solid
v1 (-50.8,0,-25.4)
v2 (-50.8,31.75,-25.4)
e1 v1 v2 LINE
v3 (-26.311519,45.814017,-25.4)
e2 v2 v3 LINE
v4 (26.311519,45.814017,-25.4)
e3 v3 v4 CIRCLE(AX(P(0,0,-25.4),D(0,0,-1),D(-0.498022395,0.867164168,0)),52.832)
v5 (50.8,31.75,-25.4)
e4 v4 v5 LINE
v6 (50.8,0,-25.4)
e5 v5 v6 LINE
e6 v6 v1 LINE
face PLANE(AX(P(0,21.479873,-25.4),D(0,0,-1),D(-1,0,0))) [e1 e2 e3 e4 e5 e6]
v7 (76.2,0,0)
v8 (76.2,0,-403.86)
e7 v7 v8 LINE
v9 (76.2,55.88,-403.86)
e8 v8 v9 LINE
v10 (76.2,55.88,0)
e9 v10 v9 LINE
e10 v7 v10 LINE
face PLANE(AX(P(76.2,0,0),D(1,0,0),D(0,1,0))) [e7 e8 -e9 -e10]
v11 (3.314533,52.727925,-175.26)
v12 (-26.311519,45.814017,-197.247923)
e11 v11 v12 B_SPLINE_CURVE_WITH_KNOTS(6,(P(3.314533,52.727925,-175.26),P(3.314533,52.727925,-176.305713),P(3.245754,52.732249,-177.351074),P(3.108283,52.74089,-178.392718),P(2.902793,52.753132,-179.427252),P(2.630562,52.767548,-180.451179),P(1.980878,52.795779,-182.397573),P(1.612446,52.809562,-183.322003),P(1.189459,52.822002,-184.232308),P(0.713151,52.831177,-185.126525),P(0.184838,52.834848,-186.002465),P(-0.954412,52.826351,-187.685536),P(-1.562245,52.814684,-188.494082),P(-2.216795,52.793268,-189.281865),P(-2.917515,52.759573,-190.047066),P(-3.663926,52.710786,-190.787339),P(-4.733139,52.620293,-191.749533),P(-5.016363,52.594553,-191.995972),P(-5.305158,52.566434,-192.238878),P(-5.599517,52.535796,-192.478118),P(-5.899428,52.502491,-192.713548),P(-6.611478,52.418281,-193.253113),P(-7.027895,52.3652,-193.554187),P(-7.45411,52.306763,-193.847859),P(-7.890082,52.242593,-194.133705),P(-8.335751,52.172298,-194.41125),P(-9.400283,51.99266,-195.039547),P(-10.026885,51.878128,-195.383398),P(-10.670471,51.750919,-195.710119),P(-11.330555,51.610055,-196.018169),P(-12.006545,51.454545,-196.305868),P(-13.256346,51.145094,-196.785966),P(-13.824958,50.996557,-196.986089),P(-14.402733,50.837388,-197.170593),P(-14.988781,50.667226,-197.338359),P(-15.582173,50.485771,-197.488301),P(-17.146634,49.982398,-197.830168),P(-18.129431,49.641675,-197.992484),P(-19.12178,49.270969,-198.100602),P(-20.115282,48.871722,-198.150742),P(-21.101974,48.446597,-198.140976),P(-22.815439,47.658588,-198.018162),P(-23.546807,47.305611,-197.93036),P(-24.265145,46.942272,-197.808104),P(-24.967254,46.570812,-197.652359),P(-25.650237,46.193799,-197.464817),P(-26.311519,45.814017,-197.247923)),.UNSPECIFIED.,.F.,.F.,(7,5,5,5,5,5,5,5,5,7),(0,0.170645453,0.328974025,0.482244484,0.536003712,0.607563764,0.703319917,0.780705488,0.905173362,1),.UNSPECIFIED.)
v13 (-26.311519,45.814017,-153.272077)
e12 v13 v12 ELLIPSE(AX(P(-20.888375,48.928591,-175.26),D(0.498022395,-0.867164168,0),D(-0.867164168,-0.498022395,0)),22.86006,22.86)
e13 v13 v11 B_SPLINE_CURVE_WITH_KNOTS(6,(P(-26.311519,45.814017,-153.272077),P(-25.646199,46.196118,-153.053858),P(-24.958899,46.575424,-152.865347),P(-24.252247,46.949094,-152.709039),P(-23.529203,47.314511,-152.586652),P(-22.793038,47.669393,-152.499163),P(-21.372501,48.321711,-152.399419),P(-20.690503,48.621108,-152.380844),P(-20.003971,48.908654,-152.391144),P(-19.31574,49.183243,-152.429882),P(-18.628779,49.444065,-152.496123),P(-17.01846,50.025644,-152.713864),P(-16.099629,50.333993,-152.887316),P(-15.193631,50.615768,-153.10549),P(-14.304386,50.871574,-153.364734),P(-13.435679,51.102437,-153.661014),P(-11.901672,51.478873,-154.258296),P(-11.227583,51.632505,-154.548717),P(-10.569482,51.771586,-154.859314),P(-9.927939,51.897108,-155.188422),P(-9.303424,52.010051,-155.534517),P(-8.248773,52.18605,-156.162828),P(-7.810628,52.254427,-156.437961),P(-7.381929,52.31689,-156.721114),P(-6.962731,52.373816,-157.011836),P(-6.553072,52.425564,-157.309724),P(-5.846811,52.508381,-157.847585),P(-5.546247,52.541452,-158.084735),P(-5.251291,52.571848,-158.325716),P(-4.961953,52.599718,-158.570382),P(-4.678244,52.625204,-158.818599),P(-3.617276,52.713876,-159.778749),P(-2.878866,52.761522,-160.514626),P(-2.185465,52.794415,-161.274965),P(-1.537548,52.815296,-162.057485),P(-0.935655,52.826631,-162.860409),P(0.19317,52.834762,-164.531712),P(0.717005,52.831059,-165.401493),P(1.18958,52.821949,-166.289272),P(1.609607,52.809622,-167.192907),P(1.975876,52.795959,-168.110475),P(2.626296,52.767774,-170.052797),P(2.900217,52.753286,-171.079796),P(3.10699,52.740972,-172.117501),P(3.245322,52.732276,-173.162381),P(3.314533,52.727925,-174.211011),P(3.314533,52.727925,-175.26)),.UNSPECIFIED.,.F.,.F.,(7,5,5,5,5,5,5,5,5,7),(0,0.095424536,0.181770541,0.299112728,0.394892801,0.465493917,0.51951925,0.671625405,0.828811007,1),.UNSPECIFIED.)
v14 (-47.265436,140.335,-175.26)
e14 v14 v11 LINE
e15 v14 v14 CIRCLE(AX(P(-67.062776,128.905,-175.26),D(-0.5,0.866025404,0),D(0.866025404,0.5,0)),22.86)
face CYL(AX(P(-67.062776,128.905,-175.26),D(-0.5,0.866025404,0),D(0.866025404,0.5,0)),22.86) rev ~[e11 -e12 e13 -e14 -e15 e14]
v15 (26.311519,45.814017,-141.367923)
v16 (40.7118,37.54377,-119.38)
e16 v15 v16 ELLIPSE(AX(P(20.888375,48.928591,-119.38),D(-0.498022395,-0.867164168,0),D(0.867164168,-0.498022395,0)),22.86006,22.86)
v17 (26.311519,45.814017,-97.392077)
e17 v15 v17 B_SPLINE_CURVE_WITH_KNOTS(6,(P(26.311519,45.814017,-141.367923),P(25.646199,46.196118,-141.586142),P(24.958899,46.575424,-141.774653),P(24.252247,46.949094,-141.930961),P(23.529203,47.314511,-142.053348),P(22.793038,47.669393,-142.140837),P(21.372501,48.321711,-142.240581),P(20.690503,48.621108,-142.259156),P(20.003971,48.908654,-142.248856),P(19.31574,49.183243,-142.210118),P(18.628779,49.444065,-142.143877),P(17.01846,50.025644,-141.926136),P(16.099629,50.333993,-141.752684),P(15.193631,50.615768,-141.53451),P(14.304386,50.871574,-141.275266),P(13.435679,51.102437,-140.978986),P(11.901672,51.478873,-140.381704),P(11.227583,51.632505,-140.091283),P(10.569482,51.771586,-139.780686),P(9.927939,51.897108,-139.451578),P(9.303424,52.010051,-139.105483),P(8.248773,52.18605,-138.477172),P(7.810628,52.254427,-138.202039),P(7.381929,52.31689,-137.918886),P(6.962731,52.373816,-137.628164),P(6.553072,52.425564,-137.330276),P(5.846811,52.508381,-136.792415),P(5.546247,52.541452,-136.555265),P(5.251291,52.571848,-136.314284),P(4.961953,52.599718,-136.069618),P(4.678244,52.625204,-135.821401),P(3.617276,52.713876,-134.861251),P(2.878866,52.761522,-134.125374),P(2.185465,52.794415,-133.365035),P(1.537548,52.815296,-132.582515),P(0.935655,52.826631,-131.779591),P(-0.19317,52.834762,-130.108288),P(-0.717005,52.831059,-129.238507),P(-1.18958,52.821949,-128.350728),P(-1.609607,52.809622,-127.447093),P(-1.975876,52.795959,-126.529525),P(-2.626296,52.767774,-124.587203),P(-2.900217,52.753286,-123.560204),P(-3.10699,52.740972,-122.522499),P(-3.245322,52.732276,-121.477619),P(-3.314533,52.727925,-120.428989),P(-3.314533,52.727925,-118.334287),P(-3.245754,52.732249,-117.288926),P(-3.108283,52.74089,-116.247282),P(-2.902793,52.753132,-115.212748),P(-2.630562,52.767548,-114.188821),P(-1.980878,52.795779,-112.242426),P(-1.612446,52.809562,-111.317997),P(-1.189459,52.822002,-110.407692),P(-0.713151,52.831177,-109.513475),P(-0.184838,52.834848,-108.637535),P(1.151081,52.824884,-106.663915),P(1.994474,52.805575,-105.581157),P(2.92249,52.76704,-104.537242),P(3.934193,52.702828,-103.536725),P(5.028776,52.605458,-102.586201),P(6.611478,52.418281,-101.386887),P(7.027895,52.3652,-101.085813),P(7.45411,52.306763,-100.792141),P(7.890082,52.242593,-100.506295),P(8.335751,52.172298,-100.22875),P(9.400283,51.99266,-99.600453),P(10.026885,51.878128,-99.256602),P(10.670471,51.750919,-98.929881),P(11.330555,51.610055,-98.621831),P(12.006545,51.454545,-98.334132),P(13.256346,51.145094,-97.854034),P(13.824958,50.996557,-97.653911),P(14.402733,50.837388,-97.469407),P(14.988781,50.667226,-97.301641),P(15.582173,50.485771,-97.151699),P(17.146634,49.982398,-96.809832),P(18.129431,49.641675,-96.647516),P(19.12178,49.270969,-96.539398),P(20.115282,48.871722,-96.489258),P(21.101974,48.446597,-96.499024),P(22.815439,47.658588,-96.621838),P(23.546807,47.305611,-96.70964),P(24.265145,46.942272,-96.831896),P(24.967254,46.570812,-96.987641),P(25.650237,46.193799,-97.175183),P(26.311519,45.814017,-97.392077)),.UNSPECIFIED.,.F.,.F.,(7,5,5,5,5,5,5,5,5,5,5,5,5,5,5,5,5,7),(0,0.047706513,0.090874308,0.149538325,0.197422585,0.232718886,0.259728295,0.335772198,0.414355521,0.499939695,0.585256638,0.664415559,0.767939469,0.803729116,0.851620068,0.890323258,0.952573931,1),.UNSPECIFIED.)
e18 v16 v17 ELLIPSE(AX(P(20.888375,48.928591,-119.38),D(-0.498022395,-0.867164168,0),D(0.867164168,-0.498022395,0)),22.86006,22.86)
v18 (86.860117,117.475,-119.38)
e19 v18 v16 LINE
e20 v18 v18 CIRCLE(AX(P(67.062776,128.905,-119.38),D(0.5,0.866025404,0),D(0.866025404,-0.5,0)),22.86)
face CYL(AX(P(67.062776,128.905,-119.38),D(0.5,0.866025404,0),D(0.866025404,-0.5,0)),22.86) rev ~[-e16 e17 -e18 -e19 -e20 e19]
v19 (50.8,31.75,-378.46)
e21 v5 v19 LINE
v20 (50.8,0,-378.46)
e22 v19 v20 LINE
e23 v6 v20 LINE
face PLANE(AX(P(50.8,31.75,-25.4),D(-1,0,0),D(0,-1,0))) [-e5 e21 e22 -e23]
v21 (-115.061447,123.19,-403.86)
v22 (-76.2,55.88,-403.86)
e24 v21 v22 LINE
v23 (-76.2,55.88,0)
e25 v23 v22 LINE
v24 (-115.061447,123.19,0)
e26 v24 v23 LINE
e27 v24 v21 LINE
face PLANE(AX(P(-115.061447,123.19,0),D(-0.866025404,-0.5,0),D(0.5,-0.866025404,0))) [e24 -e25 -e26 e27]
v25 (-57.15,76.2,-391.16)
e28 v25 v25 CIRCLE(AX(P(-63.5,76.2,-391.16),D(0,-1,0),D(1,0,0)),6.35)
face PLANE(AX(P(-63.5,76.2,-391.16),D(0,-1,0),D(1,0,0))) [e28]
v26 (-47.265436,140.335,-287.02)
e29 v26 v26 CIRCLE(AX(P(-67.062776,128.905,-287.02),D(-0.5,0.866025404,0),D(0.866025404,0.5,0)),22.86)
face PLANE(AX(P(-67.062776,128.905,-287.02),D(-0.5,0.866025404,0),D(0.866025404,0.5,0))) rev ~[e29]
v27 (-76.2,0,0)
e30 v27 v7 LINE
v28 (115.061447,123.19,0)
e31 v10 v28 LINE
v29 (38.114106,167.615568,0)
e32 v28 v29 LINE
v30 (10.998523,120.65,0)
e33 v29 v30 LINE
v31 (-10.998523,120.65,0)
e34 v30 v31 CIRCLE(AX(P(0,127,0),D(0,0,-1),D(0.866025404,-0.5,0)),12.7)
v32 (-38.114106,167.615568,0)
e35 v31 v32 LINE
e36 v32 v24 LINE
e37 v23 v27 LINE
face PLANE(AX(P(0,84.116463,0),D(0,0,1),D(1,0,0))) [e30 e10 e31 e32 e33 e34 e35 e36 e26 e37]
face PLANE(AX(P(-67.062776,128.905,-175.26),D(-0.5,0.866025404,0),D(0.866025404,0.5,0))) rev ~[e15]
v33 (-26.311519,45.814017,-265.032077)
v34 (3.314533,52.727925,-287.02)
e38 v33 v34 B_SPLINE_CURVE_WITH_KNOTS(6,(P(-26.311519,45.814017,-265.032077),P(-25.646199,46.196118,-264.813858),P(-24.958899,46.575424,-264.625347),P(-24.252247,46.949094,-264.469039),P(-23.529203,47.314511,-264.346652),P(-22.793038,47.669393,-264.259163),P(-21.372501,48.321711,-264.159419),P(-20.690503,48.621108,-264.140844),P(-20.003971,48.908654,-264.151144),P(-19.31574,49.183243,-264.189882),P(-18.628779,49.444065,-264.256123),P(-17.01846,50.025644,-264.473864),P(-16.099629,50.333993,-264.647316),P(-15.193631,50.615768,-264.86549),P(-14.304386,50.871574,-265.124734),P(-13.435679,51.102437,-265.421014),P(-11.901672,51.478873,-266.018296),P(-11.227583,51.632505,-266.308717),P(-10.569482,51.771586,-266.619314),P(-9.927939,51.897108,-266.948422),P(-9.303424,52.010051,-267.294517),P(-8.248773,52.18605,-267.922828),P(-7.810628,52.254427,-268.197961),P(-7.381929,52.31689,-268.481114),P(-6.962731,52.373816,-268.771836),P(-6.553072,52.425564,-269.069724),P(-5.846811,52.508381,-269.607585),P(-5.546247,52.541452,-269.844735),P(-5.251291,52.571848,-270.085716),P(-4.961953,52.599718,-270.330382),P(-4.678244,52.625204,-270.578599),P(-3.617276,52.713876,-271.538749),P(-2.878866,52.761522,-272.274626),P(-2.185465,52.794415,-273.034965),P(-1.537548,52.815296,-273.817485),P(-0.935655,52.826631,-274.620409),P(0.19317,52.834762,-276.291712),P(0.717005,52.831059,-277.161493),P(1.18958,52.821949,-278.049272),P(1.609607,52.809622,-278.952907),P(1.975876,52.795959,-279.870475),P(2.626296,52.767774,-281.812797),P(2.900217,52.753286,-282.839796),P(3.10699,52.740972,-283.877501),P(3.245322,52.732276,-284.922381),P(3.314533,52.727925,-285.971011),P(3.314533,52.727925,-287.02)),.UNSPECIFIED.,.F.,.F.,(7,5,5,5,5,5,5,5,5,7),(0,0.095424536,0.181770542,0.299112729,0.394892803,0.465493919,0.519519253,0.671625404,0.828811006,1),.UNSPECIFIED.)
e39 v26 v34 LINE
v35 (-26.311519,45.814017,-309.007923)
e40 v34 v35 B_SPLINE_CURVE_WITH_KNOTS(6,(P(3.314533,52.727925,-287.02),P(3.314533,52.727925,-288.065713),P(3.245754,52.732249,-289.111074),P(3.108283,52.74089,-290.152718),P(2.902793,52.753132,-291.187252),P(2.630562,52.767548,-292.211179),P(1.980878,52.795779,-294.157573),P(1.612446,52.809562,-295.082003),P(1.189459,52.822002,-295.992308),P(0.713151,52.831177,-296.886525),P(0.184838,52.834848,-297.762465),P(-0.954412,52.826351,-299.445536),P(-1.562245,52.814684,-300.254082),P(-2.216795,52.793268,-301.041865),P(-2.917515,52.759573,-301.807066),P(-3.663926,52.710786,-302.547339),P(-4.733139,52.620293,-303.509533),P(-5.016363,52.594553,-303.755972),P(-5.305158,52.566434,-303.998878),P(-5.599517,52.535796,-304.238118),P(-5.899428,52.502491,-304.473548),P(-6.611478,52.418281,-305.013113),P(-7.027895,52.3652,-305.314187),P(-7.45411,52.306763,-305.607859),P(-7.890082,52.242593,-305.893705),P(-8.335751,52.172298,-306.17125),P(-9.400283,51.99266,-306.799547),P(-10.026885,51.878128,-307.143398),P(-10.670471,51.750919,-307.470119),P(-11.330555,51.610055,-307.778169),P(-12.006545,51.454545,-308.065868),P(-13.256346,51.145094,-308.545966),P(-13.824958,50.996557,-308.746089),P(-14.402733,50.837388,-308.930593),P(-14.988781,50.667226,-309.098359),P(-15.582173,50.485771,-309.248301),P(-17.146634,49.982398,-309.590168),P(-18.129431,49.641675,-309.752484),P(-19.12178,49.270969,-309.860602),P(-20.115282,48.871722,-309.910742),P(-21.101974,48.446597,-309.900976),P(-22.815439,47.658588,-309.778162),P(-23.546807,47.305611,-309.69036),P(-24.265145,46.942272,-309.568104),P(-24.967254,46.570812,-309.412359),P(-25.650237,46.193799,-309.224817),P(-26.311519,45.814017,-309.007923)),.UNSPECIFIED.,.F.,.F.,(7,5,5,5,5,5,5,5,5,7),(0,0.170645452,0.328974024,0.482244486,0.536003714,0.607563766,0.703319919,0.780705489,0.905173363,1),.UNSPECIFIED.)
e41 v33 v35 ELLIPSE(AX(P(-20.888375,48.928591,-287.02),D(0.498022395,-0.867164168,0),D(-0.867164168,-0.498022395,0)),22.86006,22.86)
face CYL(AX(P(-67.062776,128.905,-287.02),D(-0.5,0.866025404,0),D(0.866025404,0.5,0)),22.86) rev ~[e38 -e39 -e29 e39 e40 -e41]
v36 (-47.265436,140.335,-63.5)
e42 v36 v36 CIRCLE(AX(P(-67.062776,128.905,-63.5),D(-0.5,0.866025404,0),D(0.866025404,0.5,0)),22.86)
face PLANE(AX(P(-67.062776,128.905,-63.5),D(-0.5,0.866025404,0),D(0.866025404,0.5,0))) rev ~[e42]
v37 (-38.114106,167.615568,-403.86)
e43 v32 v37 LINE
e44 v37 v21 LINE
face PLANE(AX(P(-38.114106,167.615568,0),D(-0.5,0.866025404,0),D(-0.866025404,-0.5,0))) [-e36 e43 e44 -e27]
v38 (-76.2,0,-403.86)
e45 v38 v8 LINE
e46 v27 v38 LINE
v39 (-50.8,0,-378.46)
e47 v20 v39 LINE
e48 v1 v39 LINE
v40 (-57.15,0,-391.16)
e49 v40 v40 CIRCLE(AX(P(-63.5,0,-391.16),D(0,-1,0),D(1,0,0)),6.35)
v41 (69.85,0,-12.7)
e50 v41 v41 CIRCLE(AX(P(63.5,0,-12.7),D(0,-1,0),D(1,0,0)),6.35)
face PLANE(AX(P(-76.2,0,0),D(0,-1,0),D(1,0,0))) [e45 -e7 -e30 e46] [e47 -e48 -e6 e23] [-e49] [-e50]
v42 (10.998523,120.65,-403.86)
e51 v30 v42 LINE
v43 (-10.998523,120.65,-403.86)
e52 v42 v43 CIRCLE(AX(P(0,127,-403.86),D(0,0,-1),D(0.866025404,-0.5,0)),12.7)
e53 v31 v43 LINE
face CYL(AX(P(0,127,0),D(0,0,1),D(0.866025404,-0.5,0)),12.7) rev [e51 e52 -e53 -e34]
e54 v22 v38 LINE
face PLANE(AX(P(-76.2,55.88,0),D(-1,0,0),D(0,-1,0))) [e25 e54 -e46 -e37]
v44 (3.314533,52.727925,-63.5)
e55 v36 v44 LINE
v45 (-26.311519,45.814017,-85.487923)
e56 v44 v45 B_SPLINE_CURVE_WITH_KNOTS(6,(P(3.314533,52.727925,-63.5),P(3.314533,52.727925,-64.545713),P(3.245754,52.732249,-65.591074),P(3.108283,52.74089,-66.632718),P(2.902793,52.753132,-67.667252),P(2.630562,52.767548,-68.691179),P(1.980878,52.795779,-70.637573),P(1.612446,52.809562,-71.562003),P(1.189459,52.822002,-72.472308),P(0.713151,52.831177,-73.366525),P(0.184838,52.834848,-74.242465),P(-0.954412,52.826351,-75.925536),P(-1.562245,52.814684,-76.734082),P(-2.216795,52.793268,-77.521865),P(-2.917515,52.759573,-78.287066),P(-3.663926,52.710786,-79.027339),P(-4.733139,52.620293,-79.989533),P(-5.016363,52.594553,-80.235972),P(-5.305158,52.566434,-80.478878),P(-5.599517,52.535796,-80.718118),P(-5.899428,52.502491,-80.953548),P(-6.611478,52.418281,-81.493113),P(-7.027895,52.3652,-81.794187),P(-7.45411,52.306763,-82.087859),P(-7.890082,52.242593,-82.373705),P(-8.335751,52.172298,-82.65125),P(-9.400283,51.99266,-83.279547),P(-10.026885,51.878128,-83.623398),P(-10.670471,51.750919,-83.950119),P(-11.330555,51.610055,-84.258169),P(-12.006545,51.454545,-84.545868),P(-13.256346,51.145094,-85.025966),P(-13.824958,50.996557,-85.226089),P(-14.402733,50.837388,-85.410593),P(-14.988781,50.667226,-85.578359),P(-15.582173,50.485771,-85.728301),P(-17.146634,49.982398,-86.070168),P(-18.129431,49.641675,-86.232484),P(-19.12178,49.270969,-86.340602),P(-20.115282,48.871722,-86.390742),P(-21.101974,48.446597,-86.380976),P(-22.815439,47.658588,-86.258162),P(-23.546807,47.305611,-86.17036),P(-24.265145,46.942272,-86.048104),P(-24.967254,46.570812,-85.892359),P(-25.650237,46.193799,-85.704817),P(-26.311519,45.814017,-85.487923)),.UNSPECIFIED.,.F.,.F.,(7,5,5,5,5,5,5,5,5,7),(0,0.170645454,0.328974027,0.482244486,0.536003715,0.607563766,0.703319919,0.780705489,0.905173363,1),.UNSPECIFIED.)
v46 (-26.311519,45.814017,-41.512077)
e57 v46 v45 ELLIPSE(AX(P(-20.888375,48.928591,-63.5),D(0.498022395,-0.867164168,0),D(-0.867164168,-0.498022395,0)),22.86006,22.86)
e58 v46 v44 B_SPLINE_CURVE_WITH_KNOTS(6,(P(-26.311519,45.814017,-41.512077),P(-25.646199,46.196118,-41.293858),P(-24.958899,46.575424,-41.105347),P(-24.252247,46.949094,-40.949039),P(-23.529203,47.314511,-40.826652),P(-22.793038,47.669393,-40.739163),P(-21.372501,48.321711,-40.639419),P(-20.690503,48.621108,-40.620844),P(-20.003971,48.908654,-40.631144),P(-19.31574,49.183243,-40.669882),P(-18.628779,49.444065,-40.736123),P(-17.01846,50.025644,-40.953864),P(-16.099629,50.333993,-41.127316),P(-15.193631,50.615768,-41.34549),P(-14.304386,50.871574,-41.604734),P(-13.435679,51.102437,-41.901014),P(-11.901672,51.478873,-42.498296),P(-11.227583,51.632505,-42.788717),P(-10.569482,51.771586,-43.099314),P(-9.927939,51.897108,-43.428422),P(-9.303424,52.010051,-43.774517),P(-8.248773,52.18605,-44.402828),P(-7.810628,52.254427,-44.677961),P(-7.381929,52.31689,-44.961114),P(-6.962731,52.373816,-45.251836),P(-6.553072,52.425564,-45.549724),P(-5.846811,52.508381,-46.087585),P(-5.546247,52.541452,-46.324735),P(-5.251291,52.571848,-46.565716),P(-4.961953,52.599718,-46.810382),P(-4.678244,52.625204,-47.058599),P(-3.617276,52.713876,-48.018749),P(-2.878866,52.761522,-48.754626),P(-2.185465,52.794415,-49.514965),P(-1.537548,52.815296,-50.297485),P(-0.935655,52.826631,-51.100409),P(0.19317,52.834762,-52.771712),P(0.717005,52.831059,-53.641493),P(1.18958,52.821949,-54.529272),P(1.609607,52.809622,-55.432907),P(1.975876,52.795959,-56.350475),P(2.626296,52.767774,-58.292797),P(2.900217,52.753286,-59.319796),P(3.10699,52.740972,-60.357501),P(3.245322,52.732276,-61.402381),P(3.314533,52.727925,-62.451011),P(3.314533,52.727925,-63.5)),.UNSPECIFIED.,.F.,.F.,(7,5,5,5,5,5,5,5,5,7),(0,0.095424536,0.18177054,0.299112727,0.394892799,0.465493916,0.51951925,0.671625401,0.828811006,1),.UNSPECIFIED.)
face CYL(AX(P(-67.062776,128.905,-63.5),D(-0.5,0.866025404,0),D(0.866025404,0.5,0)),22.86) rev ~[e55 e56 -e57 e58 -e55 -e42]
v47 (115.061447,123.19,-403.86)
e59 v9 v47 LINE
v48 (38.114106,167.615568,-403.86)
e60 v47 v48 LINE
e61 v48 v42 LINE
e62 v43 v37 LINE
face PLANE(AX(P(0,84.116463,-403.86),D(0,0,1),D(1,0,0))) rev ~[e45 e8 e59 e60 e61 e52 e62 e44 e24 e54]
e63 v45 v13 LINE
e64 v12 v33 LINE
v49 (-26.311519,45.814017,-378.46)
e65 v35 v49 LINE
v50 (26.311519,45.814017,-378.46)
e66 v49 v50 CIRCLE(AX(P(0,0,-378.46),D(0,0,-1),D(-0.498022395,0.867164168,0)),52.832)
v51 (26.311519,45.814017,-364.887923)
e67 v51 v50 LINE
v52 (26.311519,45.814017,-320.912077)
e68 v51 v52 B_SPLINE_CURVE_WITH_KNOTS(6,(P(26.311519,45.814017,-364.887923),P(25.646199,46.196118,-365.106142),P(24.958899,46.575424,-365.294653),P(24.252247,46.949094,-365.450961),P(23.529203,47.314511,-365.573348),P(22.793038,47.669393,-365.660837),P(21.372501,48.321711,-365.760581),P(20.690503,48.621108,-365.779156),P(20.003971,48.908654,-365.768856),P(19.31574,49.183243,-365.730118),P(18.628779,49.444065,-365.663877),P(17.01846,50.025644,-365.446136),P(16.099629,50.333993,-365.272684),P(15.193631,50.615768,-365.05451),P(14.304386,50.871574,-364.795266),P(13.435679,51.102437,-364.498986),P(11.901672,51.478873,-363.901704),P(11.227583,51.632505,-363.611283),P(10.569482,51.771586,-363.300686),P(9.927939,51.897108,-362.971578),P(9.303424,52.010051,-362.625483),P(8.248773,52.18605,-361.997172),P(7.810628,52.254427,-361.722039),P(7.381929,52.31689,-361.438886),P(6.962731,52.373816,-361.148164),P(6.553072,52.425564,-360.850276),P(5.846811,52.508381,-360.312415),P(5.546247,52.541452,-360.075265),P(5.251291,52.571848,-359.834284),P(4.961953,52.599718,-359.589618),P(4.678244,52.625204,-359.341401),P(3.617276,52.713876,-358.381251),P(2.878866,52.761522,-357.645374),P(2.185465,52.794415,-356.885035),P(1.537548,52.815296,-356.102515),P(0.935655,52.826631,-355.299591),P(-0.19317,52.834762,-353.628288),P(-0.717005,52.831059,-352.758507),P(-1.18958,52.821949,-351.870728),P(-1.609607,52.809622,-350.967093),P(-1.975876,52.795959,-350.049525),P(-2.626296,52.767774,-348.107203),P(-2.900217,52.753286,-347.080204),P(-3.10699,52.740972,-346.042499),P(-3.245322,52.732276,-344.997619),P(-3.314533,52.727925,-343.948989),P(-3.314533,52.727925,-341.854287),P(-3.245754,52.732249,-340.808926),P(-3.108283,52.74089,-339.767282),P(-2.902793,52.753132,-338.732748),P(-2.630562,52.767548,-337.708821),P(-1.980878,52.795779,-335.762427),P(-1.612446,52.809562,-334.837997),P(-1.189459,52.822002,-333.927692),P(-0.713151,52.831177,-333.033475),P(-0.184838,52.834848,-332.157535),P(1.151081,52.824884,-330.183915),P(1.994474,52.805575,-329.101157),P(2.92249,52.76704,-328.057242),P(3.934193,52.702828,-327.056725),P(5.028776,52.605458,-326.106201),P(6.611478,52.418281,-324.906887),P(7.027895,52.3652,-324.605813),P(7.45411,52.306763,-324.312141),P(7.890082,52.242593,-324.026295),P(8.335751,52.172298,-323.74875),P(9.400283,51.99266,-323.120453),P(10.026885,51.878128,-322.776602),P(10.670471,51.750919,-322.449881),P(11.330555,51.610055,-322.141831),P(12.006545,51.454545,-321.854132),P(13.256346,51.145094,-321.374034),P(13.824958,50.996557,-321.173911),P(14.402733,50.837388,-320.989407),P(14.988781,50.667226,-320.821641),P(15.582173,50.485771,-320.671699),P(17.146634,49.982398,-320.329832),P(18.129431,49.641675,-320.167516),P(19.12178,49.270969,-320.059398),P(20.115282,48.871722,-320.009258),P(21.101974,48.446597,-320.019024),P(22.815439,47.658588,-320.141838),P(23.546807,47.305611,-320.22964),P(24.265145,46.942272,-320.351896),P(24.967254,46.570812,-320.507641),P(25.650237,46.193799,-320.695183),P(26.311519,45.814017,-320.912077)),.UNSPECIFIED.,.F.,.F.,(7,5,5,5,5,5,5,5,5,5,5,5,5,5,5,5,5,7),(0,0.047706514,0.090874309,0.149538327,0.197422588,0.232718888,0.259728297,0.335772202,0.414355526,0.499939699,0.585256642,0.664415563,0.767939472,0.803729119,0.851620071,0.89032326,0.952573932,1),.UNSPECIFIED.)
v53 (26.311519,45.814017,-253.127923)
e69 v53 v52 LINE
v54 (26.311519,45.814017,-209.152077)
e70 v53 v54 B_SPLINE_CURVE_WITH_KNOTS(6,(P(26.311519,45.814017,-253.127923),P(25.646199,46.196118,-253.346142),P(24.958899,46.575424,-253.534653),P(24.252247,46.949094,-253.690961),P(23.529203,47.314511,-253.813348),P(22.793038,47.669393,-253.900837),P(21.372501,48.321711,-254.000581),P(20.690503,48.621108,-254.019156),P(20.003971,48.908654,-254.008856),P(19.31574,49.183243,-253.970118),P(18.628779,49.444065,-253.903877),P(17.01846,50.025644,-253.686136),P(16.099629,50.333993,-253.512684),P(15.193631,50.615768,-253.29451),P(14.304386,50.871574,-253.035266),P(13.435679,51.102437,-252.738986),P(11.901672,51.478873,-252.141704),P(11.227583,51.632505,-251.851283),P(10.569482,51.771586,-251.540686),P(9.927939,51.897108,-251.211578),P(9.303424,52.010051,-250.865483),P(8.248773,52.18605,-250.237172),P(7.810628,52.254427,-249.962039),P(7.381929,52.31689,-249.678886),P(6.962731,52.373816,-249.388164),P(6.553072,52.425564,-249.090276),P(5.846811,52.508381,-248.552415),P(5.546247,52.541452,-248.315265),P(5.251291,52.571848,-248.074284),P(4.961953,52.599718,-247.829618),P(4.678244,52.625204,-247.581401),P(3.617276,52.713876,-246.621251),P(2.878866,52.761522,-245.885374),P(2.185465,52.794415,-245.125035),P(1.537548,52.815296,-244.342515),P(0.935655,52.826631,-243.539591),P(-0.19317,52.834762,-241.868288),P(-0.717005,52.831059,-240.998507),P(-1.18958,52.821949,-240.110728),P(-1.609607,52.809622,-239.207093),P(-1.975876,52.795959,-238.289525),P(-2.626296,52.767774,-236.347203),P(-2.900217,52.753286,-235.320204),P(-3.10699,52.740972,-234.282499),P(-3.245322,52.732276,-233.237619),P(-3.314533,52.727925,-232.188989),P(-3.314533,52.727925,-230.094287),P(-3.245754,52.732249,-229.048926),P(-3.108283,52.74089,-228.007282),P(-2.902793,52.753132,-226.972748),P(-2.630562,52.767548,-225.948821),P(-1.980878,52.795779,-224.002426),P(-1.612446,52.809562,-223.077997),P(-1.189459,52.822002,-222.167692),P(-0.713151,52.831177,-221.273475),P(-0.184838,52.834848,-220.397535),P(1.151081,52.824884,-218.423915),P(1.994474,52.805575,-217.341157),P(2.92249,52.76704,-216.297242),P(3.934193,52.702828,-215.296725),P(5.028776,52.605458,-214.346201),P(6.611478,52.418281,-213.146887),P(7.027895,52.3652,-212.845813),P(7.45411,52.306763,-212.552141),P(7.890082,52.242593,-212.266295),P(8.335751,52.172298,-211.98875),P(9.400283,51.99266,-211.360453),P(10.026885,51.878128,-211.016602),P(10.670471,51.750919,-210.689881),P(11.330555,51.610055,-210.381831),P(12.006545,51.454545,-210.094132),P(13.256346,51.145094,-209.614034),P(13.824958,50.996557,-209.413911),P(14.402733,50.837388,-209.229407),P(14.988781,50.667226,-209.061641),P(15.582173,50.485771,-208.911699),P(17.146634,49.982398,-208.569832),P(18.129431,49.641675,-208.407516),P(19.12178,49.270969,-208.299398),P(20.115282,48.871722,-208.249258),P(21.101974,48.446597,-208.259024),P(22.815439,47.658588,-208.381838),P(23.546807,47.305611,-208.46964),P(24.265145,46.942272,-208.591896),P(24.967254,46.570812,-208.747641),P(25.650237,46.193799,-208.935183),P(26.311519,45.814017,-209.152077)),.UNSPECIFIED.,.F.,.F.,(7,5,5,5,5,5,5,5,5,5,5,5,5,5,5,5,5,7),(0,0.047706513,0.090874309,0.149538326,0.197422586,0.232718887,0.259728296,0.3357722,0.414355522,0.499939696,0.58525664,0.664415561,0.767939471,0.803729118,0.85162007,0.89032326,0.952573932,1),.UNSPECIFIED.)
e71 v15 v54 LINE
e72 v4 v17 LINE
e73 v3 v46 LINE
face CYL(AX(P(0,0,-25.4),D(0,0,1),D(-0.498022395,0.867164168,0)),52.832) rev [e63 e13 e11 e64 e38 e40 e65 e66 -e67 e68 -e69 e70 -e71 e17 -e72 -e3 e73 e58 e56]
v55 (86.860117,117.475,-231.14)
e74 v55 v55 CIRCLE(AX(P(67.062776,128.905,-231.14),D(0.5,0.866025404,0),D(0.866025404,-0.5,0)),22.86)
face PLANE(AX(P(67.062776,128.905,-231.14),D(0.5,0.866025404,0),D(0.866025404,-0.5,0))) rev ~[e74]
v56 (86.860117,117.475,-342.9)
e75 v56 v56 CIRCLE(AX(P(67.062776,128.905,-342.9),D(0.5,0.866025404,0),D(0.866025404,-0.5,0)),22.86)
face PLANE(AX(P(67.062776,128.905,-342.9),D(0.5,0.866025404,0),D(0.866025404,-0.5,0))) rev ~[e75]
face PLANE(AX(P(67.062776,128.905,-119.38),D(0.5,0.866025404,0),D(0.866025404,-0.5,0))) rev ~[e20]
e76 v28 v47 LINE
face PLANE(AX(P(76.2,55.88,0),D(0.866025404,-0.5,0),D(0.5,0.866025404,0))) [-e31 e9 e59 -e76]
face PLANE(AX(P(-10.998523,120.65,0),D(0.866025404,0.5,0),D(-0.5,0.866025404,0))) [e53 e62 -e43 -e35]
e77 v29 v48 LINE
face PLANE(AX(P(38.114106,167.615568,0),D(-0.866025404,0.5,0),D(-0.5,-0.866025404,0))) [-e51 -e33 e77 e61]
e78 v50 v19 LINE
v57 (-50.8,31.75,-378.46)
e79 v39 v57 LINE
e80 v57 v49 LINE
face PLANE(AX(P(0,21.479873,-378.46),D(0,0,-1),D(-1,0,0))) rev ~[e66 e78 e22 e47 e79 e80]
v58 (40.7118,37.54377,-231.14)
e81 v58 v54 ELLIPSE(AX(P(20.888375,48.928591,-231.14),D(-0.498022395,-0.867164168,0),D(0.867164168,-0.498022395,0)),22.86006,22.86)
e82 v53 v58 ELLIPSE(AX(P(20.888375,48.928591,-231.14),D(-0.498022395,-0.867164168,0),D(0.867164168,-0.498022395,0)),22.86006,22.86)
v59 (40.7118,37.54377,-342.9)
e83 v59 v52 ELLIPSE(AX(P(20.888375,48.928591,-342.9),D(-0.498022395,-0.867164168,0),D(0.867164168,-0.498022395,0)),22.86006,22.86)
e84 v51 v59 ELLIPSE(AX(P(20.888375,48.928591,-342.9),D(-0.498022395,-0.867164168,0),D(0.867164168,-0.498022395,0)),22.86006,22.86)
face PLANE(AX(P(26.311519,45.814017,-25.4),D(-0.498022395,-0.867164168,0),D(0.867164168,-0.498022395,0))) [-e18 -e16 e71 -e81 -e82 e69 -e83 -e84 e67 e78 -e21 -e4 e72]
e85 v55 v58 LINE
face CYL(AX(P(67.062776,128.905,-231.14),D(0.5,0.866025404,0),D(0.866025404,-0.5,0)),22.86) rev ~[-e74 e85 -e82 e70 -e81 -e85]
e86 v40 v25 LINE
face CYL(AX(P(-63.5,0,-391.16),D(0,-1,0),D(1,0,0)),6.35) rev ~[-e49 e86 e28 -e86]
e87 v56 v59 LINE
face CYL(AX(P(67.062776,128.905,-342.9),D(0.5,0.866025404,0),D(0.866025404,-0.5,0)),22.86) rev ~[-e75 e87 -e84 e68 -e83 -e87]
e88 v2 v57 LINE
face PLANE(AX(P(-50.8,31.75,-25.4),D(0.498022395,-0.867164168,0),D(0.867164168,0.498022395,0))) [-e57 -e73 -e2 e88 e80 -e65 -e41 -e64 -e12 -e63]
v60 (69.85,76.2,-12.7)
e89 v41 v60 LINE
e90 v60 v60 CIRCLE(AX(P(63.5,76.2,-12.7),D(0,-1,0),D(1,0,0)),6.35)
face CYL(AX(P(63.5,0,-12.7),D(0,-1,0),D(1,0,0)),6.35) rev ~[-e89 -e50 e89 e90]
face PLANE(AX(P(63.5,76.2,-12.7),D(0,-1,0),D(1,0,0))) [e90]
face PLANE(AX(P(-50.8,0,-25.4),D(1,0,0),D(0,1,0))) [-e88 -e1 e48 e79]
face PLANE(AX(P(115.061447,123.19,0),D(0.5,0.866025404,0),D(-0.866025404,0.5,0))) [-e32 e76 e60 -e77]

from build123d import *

# Parameters (mm, degrees)
BOSS_EXTRUDE1_DEPTH = 403.86
CUT_EXTRUDE1_START  = -19.05
SKETCH3_R           = 22.86
CUT_EXTRUDE1_DEPTH  = 203.697116111
CUT_EXTRUDE2_START  = -19.05
SKETCH4_R           = 22.86
CUT_EXTRUDE2_DEPTH  = 203.697116111
CUT_EXTRUDE4_START  = -25.4
CUT_EXTRUDE4_DEPTH  = 353.06
SKETCH7_R           = 6.35
CUT_EXTRUDE5_DEPTH  = 76.2


with BuildPart() as part:
    # Sketch1 → Boss-Extrude1 (new body)
    with BuildSketch(Plane.XY):
        with BuildLine():
            Line((-10.998522628, 120.65), (-38.114105889, 167.615567884))
            Line((-38.114105889, 167.615567884), (-115.061446619, 123.19))
            Line((-115.061446619, 123.19), (-76.2, 55.88))
            Line((-76.2, 55.88), (-76.2, 0))
            Line((-76.2, 0), (76.2, 0))
            Line((76.2, 0), (76.2, 55.88))
            Line((76.2, 55.88), (115.061446619, 123.19))
            Line((115.061446619, 123.19), (38.114105889, 167.615567884))
            Line((38.114105889, 167.615567884), (10.998522628, 120.65))
            ThreePointArc((10.998522628, 120.65), (0, 114.3), (-10.998522628, 120.65))
        make_face()
    extrude(amount=-BOSS_EXTRUDE1_DEPTH)

    # Sketch3 → Cut-Extrude1 (cut, through all)
    with BuildSketch(Plane(origin=(82.108196401, 142.215567884, 0), x_dir=(0.866025404, -0.5, 0), z_dir=(0.5, 0.866025404, 0)).offset(CUT_EXTRUDE1_START)):
        with Locations((-6.374432116, 119.38)):
            Circle(SKETCH3_R)
        with Locations((-6.374432116, 231.14)):
            Circle(SKETCH3_R)
        with Locations((-6.374432116, 342.9)):
            Circle(SKETCH3_R)
    extrude(amount=-CUT_EXTRUDE1_DEPTH, mode=Mode.SUBTRACT)

    # Sketch4 → Cut-Extrude2 (cut, through all)
    with BuildSketch(Plane(origin=(-82.108196401, 142.215567884, 0), x_dir=(0.866025404, 0.5, 0), z_dir=(-0.5, 0.866025404, 0)).offset(CUT_EXTRUDE2_START)):
        with Locations((6.374432116, 63.5)):
            Circle(SKETCH4_R)
        with Locations((6.374432116, 175.26)):
            Circle(SKETCH4_R)
        with Locations((6.374432116, 287.02)):
            Circle(SKETCH4_R)
    extrude(amount=-CUT_EXTRUDE2_DEPTH, mode=Mode.SUBTRACT)

    # Sketch5 → Cut-Extrude4 (cut)
    with BuildSketch(Plane.XY.offset(CUT_EXTRUDE4_START)):
        with BuildLine():
            Line((-50.8, 0), (-50.8, 31.75))
            Line((-50.8, 31.75), (-26.311519178, 45.814017315))
            ThreePointArc((-26.311519178, 45.814017315), (0, 52.832), (26.311519178, 45.814017315))
            Line((26.311519178, 45.814017315), (50.8, 31.75))
            Line((50.8, 31.75), (50.8, 0))
            Line((50.8, 0), (-50.8, 0))
        make_face()
    extrude(amount=-CUT_EXTRUDE4_DEPTH, mode=Mode.SUBTRACT)

    # Sketch7 → Cut-Extrude5 (cut)
    with BuildSketch(Plane.XZ):
        with Locations((-63.5, -391.16)):
            Circle(SKETCH7_R)
        with Locations((63.5, -12.7)):
            Circle(SKETCH7_R)
    extrude(amount=-CUT_EXTRUDE5_DEPTH, mode=Mode.SUBTRACT)


solid = part.part
